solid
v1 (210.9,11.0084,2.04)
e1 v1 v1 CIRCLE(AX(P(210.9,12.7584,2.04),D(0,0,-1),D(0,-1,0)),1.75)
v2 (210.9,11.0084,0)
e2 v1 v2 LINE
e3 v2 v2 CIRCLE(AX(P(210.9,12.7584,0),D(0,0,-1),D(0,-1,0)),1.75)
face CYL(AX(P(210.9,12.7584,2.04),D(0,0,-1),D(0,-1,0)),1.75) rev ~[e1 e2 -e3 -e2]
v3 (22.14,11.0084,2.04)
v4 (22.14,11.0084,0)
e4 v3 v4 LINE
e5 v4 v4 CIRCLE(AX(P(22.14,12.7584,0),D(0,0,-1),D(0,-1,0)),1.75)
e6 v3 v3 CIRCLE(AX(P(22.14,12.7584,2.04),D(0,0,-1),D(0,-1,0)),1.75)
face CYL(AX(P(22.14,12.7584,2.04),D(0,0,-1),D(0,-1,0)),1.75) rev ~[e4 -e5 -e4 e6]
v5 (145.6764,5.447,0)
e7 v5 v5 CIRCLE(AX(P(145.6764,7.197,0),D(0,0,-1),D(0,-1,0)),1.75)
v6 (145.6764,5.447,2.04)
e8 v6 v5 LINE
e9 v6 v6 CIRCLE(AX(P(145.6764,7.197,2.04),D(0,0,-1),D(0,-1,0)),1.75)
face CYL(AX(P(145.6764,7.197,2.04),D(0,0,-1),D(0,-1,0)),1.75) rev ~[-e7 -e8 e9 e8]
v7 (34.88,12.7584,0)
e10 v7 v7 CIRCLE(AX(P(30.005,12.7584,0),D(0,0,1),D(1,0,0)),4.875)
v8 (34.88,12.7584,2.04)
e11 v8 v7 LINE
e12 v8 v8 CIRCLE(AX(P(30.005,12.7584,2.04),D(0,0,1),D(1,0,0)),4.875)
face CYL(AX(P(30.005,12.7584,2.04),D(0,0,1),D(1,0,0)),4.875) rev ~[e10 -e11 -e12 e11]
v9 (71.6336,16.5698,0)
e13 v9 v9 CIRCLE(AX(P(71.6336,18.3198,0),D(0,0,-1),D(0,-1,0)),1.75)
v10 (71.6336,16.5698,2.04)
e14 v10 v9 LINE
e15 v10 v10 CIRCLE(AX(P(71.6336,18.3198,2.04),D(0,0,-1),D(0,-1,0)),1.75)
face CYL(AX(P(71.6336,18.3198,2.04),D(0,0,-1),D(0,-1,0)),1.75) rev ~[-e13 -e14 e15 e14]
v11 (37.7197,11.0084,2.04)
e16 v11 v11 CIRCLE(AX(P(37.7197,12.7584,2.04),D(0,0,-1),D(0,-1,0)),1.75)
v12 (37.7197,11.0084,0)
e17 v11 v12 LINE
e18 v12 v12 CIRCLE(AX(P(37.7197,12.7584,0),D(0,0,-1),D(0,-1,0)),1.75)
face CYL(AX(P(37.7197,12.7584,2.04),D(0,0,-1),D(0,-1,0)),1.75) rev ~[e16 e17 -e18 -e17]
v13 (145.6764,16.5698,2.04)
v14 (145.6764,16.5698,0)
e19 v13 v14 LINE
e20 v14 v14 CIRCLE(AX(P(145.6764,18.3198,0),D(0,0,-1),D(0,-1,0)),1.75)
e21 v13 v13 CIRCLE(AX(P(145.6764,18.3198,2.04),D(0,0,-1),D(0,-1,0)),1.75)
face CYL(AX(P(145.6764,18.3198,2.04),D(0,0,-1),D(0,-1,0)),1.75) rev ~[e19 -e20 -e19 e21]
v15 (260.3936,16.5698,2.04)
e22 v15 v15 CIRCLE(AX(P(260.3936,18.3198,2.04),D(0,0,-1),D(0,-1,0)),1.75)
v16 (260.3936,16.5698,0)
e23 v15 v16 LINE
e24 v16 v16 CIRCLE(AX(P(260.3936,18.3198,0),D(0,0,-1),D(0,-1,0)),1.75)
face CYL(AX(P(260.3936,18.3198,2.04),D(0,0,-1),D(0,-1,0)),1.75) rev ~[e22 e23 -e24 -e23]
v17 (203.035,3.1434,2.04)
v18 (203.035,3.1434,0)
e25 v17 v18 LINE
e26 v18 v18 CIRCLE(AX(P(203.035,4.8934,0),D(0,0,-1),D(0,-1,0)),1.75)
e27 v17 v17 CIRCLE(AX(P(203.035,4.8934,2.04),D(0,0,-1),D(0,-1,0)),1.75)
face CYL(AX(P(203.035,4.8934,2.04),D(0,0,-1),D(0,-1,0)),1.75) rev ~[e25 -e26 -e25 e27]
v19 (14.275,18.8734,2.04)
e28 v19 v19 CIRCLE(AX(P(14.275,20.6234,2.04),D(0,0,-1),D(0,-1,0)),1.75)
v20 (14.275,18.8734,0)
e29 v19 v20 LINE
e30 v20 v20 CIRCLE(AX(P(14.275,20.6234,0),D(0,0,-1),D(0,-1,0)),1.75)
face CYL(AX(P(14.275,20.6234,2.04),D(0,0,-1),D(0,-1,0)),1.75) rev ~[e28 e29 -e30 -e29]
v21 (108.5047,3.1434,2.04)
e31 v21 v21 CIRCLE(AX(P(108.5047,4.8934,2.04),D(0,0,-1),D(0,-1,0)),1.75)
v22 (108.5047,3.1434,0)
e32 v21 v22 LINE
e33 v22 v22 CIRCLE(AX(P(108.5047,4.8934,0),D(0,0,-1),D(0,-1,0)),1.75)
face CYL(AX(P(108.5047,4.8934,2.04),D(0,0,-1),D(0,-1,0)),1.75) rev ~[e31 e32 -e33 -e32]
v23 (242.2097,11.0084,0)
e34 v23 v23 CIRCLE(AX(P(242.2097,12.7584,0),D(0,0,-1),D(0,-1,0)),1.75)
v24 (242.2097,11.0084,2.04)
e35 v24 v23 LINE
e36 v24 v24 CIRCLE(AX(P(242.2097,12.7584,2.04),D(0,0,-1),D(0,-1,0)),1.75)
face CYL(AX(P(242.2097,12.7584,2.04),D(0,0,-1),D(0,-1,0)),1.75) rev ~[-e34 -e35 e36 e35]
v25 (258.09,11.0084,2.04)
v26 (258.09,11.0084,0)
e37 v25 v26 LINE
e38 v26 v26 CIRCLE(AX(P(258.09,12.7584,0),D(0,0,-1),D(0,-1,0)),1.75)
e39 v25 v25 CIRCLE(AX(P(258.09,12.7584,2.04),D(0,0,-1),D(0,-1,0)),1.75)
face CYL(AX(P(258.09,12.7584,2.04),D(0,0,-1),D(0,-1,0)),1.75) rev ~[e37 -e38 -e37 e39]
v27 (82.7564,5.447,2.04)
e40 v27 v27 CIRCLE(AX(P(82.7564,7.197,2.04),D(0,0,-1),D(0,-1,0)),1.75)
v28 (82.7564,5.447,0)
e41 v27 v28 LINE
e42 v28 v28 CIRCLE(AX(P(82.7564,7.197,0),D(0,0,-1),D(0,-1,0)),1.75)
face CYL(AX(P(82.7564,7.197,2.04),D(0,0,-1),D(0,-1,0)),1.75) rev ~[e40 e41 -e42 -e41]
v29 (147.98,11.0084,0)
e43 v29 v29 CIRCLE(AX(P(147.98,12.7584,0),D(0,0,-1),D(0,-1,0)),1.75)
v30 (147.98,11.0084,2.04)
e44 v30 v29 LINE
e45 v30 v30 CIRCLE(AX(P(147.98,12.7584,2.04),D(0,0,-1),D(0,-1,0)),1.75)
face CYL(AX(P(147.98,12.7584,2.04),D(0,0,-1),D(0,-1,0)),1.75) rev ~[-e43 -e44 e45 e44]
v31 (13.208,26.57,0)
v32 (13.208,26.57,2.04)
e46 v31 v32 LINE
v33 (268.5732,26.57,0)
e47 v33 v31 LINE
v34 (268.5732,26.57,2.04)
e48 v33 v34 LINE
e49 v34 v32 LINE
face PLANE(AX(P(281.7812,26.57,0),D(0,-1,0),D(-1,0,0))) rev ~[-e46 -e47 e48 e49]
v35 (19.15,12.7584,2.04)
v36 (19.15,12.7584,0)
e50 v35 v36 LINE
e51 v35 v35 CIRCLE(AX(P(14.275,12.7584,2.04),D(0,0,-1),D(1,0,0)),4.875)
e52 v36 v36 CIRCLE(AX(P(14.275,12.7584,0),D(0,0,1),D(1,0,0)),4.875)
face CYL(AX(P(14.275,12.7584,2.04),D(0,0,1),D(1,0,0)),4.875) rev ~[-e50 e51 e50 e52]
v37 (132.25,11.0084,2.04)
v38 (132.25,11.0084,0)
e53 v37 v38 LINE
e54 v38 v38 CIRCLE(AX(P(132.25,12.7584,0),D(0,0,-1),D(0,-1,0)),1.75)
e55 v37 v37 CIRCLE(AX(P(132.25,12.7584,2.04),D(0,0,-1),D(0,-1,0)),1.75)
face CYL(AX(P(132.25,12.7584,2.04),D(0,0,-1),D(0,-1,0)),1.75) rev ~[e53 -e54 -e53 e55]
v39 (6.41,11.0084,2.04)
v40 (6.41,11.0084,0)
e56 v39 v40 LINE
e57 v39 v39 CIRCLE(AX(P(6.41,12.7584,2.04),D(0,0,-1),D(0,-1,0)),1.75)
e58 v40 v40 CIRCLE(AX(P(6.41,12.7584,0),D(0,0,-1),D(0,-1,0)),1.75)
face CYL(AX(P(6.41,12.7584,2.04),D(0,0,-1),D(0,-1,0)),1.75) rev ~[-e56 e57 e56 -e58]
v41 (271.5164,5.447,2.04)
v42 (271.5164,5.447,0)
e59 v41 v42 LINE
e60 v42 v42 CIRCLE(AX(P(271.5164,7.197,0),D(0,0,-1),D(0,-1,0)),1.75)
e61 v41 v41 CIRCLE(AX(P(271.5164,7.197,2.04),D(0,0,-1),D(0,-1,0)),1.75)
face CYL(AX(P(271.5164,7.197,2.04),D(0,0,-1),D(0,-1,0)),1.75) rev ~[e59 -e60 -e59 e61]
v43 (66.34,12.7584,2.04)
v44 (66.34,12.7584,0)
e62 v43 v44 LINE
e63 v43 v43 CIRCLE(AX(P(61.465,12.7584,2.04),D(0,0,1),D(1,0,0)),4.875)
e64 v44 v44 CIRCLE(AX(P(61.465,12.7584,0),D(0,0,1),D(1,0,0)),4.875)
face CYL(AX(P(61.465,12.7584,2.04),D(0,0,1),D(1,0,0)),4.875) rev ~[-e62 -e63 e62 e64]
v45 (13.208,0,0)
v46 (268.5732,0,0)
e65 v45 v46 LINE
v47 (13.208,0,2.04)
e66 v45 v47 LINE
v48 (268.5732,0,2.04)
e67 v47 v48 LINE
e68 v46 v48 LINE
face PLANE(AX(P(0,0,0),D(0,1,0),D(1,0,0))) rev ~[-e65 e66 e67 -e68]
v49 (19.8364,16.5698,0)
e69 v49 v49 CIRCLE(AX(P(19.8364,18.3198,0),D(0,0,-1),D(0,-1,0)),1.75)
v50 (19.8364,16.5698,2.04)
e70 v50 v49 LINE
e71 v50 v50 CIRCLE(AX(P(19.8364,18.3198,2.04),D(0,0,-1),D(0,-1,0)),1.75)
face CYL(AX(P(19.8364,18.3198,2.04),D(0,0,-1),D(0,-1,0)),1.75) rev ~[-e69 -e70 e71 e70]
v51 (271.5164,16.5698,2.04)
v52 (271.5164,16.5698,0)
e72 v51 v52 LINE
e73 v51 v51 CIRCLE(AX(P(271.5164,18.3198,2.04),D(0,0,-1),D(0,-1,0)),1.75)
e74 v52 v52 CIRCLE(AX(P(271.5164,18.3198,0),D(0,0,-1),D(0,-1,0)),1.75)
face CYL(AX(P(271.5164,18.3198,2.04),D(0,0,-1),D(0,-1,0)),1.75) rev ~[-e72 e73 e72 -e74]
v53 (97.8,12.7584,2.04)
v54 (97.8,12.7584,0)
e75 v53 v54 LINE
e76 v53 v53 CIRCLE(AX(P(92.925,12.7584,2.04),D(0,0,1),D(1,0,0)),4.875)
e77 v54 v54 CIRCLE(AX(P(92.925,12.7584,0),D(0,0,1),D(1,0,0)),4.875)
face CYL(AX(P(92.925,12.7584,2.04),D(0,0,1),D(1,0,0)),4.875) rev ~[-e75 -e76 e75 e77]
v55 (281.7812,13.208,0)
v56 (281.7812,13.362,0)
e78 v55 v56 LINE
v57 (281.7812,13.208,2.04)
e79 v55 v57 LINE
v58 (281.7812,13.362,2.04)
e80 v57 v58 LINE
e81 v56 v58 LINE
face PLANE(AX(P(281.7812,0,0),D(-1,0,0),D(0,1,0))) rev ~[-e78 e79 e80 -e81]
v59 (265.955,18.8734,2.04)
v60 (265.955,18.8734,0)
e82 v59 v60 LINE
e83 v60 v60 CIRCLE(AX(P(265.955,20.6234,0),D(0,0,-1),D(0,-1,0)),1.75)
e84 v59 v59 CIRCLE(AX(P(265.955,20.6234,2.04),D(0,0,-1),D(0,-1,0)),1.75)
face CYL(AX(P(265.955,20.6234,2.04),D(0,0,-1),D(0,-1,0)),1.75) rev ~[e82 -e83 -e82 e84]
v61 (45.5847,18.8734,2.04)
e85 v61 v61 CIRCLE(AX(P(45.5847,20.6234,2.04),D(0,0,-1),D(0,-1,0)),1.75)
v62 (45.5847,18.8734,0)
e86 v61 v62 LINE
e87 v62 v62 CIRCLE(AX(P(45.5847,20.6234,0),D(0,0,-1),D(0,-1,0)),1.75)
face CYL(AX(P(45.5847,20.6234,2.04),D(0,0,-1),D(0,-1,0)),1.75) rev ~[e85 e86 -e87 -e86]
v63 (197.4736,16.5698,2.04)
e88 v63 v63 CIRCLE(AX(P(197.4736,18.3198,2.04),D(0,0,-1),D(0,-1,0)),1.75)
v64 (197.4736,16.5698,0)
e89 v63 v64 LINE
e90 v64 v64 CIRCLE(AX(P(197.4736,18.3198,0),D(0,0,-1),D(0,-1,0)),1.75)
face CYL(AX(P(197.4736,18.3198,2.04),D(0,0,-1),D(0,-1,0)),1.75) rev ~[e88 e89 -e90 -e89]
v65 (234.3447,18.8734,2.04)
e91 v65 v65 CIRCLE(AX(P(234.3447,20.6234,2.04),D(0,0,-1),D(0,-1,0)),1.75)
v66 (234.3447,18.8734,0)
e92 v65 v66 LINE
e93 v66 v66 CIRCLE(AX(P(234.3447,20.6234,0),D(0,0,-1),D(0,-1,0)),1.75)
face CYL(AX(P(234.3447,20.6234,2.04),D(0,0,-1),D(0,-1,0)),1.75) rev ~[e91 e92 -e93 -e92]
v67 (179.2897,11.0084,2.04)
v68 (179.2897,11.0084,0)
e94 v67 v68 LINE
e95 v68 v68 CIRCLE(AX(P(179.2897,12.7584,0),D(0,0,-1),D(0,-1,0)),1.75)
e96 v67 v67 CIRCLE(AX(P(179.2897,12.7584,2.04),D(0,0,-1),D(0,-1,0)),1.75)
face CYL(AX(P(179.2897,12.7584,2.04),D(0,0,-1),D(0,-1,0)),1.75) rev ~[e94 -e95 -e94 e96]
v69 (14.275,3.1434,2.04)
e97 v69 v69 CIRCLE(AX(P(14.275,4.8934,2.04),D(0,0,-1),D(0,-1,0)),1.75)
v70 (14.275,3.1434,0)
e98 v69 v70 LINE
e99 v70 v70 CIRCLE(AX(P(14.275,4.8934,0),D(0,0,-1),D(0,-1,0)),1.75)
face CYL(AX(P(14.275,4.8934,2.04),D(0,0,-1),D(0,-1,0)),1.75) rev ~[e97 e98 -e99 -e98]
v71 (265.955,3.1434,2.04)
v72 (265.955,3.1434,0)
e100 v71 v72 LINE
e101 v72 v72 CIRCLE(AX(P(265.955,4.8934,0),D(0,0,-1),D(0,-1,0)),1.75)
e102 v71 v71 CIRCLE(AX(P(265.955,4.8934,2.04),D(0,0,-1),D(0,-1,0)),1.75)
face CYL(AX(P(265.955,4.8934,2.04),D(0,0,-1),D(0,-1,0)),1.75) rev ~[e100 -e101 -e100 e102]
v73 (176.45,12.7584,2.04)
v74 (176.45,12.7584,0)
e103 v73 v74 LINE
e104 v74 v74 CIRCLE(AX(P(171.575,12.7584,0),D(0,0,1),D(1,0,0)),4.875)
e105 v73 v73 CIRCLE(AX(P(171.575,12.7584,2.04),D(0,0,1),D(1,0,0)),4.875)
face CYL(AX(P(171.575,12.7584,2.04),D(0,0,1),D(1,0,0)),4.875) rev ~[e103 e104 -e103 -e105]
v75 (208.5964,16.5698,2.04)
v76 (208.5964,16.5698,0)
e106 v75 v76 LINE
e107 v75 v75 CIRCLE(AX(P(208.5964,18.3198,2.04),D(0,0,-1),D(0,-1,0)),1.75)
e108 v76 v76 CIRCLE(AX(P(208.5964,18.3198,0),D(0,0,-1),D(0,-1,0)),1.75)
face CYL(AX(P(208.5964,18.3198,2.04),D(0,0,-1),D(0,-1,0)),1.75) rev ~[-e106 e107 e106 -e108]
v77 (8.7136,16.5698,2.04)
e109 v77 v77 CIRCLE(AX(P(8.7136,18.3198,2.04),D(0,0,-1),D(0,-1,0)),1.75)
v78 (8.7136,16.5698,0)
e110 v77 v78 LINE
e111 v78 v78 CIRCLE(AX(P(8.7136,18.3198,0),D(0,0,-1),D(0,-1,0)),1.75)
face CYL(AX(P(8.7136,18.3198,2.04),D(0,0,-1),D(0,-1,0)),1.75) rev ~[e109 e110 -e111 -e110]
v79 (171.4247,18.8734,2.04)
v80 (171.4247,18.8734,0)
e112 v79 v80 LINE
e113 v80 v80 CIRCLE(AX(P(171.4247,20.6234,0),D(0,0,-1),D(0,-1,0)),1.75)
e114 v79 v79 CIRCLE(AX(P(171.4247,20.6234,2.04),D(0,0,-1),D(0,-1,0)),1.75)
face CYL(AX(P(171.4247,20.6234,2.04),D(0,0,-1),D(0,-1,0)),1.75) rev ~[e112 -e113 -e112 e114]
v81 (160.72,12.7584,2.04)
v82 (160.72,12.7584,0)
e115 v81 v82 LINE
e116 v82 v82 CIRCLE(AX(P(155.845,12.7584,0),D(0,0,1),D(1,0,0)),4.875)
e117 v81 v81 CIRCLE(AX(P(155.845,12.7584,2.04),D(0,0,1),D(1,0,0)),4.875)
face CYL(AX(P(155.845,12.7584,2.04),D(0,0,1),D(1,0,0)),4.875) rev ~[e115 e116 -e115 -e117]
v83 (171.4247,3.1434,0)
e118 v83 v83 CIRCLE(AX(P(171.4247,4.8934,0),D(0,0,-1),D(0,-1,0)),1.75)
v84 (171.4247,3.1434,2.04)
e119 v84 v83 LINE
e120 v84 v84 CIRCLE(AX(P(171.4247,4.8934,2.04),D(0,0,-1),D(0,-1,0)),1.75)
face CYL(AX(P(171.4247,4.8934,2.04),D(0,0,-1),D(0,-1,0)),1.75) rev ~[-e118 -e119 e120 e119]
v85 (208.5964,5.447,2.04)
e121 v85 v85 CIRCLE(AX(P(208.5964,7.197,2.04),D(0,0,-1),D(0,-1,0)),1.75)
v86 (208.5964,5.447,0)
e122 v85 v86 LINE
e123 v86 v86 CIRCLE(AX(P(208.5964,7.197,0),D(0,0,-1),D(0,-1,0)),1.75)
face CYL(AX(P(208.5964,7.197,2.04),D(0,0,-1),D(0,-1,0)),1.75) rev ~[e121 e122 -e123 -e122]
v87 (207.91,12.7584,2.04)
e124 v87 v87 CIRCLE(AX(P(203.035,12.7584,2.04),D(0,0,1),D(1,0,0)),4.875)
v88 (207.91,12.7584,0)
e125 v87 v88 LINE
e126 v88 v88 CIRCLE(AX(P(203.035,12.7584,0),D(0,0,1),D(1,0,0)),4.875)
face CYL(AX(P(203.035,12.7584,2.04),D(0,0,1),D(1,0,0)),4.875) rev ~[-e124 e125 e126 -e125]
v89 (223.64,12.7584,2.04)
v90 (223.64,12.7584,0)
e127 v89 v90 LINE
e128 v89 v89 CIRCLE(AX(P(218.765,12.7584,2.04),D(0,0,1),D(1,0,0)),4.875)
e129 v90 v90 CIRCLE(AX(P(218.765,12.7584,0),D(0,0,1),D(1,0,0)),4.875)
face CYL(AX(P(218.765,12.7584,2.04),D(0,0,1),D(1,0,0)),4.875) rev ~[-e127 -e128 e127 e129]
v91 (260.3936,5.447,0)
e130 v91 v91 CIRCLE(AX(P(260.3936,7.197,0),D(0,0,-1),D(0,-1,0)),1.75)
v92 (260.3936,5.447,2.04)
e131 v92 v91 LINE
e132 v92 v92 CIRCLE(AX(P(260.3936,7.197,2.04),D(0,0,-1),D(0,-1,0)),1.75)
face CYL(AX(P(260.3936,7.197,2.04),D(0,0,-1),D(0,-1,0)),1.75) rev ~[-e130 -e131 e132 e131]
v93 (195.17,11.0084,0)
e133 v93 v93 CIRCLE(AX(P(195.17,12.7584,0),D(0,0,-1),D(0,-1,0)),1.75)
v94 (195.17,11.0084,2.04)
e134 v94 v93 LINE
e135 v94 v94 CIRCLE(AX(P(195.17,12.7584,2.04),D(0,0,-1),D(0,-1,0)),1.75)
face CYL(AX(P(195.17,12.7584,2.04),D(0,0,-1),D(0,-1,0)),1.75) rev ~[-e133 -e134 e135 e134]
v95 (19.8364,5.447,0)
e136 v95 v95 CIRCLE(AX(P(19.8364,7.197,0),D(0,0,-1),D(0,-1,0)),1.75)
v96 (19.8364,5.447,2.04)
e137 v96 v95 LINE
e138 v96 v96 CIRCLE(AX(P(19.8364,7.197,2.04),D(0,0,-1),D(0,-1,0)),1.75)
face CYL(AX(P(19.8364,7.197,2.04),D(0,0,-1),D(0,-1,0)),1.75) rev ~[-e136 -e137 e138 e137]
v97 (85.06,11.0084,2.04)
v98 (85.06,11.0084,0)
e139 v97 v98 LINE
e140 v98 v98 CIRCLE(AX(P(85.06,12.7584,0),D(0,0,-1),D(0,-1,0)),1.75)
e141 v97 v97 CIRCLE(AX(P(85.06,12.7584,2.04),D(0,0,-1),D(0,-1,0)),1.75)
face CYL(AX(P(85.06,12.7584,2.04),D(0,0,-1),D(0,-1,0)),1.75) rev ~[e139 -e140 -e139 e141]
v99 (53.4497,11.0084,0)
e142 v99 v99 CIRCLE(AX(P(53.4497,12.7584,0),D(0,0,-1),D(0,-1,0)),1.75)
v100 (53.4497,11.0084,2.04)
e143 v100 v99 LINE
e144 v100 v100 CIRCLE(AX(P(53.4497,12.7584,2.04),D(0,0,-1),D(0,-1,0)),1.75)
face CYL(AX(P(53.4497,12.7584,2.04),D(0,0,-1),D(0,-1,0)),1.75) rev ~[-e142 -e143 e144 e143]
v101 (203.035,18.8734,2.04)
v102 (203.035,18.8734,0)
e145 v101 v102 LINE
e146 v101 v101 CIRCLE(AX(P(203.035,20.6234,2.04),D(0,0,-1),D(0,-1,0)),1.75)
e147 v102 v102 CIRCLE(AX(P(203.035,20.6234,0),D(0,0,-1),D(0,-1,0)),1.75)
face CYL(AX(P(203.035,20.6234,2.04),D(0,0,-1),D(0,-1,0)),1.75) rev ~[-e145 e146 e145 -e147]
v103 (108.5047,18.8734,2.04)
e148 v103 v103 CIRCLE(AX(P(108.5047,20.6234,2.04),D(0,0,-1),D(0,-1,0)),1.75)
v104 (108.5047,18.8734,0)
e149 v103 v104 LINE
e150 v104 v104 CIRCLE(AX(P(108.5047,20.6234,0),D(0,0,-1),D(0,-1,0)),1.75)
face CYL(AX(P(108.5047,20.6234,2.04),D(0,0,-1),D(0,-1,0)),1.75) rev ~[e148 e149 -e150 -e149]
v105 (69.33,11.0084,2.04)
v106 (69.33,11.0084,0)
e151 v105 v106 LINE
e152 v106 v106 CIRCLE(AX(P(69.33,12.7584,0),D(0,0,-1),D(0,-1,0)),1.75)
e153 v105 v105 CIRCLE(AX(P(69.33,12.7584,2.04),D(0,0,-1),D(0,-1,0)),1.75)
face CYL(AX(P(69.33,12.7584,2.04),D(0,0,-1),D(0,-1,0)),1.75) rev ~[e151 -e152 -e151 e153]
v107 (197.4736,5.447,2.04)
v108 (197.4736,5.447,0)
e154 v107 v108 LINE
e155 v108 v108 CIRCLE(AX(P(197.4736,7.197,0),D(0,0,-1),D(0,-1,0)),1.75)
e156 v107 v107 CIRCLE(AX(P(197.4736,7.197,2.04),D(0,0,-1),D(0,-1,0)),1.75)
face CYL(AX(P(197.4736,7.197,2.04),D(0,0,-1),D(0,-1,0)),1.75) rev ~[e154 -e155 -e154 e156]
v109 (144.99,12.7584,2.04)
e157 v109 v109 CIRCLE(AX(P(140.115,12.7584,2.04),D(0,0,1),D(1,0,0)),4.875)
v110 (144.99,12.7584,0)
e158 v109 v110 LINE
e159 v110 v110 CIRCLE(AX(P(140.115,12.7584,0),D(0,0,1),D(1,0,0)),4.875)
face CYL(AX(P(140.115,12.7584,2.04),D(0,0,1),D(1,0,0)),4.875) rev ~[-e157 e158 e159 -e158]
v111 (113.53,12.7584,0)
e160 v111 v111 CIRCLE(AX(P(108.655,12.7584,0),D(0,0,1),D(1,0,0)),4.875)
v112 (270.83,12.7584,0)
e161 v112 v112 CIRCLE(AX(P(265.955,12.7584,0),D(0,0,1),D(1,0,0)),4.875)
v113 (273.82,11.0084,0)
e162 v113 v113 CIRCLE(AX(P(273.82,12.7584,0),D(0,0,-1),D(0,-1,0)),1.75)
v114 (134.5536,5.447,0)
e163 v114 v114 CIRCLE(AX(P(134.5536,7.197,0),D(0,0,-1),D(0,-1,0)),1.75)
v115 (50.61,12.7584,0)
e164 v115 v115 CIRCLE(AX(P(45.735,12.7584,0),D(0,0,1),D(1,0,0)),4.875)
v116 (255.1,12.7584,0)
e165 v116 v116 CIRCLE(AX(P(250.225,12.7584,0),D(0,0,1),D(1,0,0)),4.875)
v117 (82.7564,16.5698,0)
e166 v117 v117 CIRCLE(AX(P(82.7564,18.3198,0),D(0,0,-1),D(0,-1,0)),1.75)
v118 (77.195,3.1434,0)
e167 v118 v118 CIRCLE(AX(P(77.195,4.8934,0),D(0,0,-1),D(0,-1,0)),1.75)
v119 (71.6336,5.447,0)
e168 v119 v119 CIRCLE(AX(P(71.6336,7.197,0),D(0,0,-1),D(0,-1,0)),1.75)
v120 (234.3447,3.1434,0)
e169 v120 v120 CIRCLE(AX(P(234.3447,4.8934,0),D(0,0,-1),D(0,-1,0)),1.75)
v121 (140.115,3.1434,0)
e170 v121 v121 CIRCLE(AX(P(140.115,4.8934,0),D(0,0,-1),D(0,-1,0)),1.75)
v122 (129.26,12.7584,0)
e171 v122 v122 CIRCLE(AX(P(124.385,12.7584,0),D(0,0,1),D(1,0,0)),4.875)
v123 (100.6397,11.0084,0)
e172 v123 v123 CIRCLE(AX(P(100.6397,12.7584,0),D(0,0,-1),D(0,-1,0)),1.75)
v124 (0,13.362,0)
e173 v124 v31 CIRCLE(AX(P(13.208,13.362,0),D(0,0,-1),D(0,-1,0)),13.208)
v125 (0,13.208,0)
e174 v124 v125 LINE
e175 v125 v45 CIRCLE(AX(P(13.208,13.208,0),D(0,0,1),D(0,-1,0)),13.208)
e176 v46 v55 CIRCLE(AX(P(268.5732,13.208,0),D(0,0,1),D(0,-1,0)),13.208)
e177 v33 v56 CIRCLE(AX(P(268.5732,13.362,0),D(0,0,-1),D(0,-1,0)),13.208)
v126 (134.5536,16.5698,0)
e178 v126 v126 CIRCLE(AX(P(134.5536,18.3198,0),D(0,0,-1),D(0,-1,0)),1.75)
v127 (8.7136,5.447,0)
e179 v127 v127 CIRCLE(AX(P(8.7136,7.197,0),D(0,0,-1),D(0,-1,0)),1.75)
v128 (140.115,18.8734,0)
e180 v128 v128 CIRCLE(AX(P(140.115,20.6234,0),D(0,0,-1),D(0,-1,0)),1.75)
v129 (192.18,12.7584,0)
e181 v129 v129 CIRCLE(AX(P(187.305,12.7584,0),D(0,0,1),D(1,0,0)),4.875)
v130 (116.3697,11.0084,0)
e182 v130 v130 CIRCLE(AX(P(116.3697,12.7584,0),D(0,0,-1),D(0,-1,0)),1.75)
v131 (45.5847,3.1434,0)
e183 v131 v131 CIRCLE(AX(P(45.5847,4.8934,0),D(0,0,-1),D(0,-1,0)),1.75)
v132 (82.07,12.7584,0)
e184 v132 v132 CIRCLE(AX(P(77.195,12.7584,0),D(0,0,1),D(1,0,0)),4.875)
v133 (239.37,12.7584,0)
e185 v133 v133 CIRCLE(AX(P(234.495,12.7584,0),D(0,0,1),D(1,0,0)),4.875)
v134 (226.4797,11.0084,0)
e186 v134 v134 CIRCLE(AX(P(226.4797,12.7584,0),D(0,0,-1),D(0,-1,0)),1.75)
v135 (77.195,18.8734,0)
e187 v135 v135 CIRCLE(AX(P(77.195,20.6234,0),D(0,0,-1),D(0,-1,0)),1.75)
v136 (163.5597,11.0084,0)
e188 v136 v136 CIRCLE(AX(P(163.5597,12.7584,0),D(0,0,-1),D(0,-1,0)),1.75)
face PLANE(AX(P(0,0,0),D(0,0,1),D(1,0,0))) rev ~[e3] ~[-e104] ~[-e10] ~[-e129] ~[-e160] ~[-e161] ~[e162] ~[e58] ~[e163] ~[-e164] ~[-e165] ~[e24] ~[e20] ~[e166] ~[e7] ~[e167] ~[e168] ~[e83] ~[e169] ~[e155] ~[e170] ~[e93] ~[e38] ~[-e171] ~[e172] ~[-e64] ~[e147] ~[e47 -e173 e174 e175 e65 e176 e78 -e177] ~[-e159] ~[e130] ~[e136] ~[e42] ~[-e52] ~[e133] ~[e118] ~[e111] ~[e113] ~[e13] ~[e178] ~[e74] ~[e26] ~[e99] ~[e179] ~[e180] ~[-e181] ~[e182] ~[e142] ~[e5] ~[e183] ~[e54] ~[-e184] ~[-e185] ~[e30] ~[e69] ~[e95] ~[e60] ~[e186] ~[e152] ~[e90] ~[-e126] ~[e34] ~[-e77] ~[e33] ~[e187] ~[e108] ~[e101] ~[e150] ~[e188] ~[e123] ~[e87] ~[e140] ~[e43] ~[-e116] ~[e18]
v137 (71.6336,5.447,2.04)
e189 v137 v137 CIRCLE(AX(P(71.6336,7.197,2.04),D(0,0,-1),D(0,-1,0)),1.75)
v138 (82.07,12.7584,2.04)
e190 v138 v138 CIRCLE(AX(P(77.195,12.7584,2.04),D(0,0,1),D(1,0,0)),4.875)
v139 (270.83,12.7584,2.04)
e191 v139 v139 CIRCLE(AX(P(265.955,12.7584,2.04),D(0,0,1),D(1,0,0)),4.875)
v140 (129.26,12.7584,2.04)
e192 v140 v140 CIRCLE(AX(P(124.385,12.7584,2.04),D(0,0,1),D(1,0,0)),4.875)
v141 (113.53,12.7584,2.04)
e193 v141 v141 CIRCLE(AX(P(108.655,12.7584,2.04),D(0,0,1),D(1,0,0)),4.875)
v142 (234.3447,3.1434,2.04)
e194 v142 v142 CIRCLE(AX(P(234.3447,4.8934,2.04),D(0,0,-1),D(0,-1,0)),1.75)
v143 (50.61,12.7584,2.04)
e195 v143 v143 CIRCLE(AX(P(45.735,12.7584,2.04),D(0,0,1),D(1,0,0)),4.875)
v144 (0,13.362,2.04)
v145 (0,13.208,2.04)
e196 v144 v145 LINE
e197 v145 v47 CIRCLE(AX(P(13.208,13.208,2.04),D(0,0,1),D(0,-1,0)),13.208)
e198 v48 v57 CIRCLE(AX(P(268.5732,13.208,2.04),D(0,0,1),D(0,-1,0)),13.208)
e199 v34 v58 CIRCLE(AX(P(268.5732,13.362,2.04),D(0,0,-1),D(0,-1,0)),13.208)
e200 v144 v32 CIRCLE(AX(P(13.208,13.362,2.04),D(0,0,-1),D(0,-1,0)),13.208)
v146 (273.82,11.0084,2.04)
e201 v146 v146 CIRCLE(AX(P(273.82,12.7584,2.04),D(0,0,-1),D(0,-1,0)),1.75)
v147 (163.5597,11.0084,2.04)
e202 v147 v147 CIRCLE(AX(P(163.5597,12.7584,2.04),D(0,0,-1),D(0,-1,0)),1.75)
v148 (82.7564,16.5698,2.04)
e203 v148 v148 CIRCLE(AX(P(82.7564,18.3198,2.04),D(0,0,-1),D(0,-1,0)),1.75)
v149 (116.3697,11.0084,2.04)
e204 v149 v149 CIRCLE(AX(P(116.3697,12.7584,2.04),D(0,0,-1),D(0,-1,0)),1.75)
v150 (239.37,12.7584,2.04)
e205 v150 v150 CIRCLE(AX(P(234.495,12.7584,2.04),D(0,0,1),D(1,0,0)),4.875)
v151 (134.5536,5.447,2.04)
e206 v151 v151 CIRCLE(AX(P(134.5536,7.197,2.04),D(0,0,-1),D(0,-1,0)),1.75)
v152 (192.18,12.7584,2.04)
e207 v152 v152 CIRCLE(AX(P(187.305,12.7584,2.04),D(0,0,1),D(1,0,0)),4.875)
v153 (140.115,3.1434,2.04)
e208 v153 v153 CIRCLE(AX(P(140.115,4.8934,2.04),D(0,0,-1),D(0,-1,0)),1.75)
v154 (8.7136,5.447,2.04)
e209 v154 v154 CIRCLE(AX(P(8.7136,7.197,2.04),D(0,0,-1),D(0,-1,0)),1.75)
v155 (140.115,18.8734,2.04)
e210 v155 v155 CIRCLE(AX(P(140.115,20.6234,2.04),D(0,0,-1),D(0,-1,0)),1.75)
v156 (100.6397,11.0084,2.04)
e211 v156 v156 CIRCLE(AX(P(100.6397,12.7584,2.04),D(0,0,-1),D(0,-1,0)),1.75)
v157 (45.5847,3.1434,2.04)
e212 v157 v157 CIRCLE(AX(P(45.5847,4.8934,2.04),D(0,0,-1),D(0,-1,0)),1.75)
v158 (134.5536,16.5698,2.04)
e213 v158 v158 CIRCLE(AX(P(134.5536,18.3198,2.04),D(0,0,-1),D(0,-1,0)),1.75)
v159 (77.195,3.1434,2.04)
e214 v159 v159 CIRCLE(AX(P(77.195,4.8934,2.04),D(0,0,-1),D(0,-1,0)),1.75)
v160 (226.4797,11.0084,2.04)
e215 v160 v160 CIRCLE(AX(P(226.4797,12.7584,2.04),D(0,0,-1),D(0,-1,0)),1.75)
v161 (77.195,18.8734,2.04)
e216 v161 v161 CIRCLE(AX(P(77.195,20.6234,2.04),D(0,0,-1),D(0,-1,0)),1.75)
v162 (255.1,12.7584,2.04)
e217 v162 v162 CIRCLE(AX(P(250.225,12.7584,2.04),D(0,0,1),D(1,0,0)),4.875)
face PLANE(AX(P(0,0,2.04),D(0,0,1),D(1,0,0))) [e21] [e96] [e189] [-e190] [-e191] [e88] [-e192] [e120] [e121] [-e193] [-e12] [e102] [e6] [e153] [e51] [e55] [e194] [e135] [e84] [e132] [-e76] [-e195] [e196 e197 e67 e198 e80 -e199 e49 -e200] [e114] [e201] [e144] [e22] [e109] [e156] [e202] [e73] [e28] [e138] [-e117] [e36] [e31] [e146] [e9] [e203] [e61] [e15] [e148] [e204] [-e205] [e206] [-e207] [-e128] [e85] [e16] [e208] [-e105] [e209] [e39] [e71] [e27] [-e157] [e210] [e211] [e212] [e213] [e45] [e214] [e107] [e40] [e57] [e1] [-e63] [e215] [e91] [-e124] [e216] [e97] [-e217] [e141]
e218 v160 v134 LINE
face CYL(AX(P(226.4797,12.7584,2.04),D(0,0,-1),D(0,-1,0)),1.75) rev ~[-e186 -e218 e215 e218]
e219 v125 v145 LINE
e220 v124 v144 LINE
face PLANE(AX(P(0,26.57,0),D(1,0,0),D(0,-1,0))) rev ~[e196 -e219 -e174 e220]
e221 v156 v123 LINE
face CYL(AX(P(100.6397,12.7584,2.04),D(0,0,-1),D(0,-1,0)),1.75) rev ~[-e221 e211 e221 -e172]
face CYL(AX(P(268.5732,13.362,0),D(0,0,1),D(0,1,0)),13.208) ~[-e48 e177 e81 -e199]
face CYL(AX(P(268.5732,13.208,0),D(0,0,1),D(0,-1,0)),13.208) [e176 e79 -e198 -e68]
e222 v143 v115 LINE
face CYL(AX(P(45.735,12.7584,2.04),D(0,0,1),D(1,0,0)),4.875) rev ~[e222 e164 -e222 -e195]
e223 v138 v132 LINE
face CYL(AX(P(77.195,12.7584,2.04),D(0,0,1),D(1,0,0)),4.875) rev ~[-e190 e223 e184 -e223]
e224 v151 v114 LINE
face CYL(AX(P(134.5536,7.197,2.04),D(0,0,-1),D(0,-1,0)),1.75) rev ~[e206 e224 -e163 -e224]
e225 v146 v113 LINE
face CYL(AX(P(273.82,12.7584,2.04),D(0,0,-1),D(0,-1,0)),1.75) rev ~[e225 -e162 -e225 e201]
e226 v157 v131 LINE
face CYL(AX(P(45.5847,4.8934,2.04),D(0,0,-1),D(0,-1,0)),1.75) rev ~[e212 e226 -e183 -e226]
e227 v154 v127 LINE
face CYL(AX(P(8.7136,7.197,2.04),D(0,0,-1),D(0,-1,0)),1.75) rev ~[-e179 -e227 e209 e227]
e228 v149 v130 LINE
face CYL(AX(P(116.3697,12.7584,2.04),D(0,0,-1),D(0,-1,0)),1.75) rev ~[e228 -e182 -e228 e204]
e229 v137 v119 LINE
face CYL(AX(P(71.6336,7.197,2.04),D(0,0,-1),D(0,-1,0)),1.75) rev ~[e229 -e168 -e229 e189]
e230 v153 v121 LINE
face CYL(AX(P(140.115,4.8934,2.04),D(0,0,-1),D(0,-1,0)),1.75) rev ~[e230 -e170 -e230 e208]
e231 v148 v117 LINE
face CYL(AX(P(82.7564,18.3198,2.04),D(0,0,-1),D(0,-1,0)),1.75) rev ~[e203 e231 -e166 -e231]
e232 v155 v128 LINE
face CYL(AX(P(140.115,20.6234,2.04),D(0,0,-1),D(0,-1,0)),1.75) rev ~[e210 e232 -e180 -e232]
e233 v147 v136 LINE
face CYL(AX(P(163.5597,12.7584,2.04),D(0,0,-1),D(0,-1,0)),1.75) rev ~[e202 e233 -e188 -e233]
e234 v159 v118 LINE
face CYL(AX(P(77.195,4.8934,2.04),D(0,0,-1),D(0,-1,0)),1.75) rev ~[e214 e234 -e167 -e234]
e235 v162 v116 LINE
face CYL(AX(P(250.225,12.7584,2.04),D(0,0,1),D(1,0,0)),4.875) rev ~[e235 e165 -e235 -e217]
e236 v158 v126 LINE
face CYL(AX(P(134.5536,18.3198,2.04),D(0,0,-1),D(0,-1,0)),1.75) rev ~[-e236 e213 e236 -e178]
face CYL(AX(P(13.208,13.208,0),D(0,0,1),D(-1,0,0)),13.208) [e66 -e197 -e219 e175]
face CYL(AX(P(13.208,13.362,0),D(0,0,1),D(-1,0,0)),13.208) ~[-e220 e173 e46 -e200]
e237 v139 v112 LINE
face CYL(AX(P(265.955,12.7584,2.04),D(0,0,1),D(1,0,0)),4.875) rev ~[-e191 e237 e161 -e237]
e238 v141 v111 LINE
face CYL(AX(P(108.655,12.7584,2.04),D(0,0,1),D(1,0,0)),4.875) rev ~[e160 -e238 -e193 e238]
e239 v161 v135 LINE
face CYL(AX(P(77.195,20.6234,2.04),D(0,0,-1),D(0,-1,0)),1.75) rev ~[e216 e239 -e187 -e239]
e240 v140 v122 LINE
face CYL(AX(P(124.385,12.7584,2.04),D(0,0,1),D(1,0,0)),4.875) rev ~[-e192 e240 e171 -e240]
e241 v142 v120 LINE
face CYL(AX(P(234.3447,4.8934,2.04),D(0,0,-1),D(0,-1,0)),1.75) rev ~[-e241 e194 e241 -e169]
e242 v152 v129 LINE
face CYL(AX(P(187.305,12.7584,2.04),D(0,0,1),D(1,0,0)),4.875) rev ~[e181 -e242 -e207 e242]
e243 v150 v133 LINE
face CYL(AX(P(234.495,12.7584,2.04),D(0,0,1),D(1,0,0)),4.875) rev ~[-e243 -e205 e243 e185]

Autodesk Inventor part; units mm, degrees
ref_plane "YZ Plane" through (0, 0, 0) normal (1, 0, 0) x (0, 1, 0)
ref_plane "XZ Plane" through (0, 0, 0) normal (0, 1, 0) x (-1, 0, 0)
ref_plane "XY Plane" through (0, 0, 0) normal (0, 0, 1) x (1, 0, 0)
sketch "Sketch1" plane through (0, 0, 0) normal (0, 0, 1) x (1, 0, 0)
  line L0 (0, 0) -> (281.7812, 0)
  line L1 (281.7812, 0) -> (281.7812, 26.57)
  line L2 (281.7812, 26.57) -> (0, 26.57)
  line L3 (0, 26.57) -> (0, 0)
  dimension "d0" = 281.7812
  dimension "d1" = 26.57
extrude "Extrusion1" add sketch "Sketch1" along normal blind 2.04
sketch "Sketch2" plane through (0, 0, 2.04) normal (0, 0, 1) x (1, 0, 0)
  line L0 (0, 26.57) -> (0, 0) projected
  line L1 (0, 0) -> (0, 12.7584)
  line L2 (0, 12.7584) -> (14.275, 12.7584)
  line L3 (0, 12.7584) -> (14.275, 12.7584) construction
  circle A0 centre (14.275, 12.7584) radius 4.875
  line L4 (14.275, 12.7584) -> (16.815, 12.7584)
  circle A1 centre (30.005, 12.7584) radius 4.875
  circle A2 centre (45.735, 12.7584) radius 4.875
  circle A3 centre (61.465, 12.7584) radius 4.875
  circle A4 centre (77.195, 12.7584) radius 4.875
  circle A5 centre (92.925, 12.7584) radius 4.875
  circle A6 centre (108.655, 12.7584) radius 4.875
  circle A7 centre (124.385, 12.7584) radius 4.875
  circle A8 centre (140.115, 12.7584) radius 4.875
  circle A9 centre (155.845, 12.7584) radius 4.875
  circle A10 centre (171.575, 12.7584) radius 4.875
  circle A11 centre (187.305, 12.7584) radius 4.875
  circle A12 centre (203.035, 12.7584) radius 4.875
  circle A13 centre (218.765, 12.7584) radius 4.875
  circle A14 centre (234.495, 12.7584) radius 4.875
  circle A15 centre (250.225, 12.7584) radius 4.875
  circle A16 centre (265.955, 12.7584) radius 4.875
  dimension "d4" = 12.7584
  dimension "d5" = 14.275
  dimension "d6" = 0
  dimension "d7" = 9.75
  dimension "d8" = 2.54
  dimension "d13" = 15.73
extrude "Extrusion2" cut sketch "Sketch2" against normal blind 2.04
fillet "Fillet1" radius 13.208 4 edges at (0, 26.57, 1.02) (0, 0, 1.02) (281.7812, 26.57, 1.02) (281.7812, 0, 1.02)
sketch "Sketch3" plane through (0, 0, 2.04) normal (0, 0, 1) x (1, 0, 0)
  line L0 (13.208, 0) -> (268.5733, 0) projected
  line L1 (0, 13.362) -> (0, 13.208) projected
  circle A0 centre (14.275, 12.7584) radius 4.875 projected
  line L2 (14.275, 7.8834) -> (14.275, 17.6334)
  line L3 (9.4, 12.7584) -> (19.15, 12.7584)
  line L4 (14.275, 12.7584) -> (14.275, 20.6234)
  line L5 (268.5733, 26.57) -> (13.208, 26.57) projected
  line L6 (10.8279, 9.3113) -> (17.7221, 16.2056)
  line L7 (14.275, 7.8834) -> (14.275, 17.6334)
  line L8 (17.7221, 9.3113) -> (10.8279, 16.2056)
  line L9 (19.15, 12.7584) -> (9.4, 12.7584)
  line L10 (17.7221, 16.2056) -> (10.8279, 9.3113)
  line L11 (14.275, 17.6334) -> (14.275, 7.8834)
  line L12 (10.8279, 16.2056) -> (17.7221, 9.3113)
  point P0 (0, 0)
  point P1 (8.7136, 18.3198)
  point P2 (6.41, 12.7584)
  point P3 (8.7136, 7.197)
  point P4 (14.275, 4.8934)
  point P5 (19.8364, 7.197)
  point P6 (22.14, 12.7584)
  point P7 (19.8364, 18.3198)
  dimension "d30" = 360
  dimension "d39" = 7.865
hole "Hole1" at (14.275, 20.6234, 2.04) at (8.7136, 18.3198, 2.04) at (6.41, 12.7584, 2.04) at (8.7136, 7.197, 2.04) at (14.275, 4.8934, 2.04) at (19.8364, 7.197, 2.04) at (22.14, 12.7584, 2.04) at (19.8364, 18.3198, 2.04) direction (0, 0, -1) diameter 3.5 end through all
pattern_linear "Rectangular Pattern1" count 5 spacing 62.92 along (1, 0, 0) of "Hole1"
sketch "Sketch4" plane through (0, 0, 2.04) normal (0, 0, 1) x (1, 0, 0)
  line L0 (45.5847, 12.7584) -> (45.5847, 20.6234)
  circle A0 centre (30.005, 12.7584) radius 4.875 projected
  line L1 (30.005, 12.7584) -> (35.5959, 12.7584)
  line L2 (30.005, 12.7584) -> (35.5959, 12.7584) construction
  line L3 (30.005, 12.7584) -> (45.5847, 12.7584)
  point P0 (0, 0)
  point P1 (37.7197, 12.7584)
  point P2 (45.5847, 4.8934)
  point P3 (53.4497, 12.7584)
  point P4 (116.3697, 12.7584)
  point P5 (108.5047, 4.8934)
  point P6 (100.6397, 12.7584)
  point P7 (108.5047, 20.6234)
  point P8 (179.2897, 12.7584)
  point P9 (171.4247, 4.8934)
  point P10 (163.5597, 12.7584)
  point P11 (171.4247, 20.6234)
  point P12 (242.2097, 12.7584)
  point P13 (234.3447, 4.8934)
  point P14 (226.4797, 12.7584)
  point P15 (234.3447, 20.6234)
  dimension "d43" = 7.865
  dimension "d46" = 360
  dimension "d48" = 0
  dimension "d49" = 15.5797
  dimension "d52" = 62.92
hole "Hole2" at (45.5847, 4.8934, 2.04) at (53.4497, 12.7584, 2.04) at (45.5847, 20.6234, 2.04) at (37.7197, 12.7584, 2.04) at (100.6397, 12.7584, 2.04) at (108.5047, 4.8934, 2.04) at (116.3697, 12.7584, 2.04) at (108.5047, 20.6234, 2.04) at (171.4247, 20.6234, 2.04) at (179.2897, 12.7584, 2.04) at (171.4247, 4.8934, 2.04) at (163.5597, 12.7584, 2.04) at (234.3447, 4.8934, 2.04) at (226.4797, 12.7584, 2.04) at (242.2097, 12.7584, 2.04) at (234.3447, 20.6234, 2.04) direction (0, 0, -1) diameter 3.5 end through all
properties part number "max length flat tetrix part"
